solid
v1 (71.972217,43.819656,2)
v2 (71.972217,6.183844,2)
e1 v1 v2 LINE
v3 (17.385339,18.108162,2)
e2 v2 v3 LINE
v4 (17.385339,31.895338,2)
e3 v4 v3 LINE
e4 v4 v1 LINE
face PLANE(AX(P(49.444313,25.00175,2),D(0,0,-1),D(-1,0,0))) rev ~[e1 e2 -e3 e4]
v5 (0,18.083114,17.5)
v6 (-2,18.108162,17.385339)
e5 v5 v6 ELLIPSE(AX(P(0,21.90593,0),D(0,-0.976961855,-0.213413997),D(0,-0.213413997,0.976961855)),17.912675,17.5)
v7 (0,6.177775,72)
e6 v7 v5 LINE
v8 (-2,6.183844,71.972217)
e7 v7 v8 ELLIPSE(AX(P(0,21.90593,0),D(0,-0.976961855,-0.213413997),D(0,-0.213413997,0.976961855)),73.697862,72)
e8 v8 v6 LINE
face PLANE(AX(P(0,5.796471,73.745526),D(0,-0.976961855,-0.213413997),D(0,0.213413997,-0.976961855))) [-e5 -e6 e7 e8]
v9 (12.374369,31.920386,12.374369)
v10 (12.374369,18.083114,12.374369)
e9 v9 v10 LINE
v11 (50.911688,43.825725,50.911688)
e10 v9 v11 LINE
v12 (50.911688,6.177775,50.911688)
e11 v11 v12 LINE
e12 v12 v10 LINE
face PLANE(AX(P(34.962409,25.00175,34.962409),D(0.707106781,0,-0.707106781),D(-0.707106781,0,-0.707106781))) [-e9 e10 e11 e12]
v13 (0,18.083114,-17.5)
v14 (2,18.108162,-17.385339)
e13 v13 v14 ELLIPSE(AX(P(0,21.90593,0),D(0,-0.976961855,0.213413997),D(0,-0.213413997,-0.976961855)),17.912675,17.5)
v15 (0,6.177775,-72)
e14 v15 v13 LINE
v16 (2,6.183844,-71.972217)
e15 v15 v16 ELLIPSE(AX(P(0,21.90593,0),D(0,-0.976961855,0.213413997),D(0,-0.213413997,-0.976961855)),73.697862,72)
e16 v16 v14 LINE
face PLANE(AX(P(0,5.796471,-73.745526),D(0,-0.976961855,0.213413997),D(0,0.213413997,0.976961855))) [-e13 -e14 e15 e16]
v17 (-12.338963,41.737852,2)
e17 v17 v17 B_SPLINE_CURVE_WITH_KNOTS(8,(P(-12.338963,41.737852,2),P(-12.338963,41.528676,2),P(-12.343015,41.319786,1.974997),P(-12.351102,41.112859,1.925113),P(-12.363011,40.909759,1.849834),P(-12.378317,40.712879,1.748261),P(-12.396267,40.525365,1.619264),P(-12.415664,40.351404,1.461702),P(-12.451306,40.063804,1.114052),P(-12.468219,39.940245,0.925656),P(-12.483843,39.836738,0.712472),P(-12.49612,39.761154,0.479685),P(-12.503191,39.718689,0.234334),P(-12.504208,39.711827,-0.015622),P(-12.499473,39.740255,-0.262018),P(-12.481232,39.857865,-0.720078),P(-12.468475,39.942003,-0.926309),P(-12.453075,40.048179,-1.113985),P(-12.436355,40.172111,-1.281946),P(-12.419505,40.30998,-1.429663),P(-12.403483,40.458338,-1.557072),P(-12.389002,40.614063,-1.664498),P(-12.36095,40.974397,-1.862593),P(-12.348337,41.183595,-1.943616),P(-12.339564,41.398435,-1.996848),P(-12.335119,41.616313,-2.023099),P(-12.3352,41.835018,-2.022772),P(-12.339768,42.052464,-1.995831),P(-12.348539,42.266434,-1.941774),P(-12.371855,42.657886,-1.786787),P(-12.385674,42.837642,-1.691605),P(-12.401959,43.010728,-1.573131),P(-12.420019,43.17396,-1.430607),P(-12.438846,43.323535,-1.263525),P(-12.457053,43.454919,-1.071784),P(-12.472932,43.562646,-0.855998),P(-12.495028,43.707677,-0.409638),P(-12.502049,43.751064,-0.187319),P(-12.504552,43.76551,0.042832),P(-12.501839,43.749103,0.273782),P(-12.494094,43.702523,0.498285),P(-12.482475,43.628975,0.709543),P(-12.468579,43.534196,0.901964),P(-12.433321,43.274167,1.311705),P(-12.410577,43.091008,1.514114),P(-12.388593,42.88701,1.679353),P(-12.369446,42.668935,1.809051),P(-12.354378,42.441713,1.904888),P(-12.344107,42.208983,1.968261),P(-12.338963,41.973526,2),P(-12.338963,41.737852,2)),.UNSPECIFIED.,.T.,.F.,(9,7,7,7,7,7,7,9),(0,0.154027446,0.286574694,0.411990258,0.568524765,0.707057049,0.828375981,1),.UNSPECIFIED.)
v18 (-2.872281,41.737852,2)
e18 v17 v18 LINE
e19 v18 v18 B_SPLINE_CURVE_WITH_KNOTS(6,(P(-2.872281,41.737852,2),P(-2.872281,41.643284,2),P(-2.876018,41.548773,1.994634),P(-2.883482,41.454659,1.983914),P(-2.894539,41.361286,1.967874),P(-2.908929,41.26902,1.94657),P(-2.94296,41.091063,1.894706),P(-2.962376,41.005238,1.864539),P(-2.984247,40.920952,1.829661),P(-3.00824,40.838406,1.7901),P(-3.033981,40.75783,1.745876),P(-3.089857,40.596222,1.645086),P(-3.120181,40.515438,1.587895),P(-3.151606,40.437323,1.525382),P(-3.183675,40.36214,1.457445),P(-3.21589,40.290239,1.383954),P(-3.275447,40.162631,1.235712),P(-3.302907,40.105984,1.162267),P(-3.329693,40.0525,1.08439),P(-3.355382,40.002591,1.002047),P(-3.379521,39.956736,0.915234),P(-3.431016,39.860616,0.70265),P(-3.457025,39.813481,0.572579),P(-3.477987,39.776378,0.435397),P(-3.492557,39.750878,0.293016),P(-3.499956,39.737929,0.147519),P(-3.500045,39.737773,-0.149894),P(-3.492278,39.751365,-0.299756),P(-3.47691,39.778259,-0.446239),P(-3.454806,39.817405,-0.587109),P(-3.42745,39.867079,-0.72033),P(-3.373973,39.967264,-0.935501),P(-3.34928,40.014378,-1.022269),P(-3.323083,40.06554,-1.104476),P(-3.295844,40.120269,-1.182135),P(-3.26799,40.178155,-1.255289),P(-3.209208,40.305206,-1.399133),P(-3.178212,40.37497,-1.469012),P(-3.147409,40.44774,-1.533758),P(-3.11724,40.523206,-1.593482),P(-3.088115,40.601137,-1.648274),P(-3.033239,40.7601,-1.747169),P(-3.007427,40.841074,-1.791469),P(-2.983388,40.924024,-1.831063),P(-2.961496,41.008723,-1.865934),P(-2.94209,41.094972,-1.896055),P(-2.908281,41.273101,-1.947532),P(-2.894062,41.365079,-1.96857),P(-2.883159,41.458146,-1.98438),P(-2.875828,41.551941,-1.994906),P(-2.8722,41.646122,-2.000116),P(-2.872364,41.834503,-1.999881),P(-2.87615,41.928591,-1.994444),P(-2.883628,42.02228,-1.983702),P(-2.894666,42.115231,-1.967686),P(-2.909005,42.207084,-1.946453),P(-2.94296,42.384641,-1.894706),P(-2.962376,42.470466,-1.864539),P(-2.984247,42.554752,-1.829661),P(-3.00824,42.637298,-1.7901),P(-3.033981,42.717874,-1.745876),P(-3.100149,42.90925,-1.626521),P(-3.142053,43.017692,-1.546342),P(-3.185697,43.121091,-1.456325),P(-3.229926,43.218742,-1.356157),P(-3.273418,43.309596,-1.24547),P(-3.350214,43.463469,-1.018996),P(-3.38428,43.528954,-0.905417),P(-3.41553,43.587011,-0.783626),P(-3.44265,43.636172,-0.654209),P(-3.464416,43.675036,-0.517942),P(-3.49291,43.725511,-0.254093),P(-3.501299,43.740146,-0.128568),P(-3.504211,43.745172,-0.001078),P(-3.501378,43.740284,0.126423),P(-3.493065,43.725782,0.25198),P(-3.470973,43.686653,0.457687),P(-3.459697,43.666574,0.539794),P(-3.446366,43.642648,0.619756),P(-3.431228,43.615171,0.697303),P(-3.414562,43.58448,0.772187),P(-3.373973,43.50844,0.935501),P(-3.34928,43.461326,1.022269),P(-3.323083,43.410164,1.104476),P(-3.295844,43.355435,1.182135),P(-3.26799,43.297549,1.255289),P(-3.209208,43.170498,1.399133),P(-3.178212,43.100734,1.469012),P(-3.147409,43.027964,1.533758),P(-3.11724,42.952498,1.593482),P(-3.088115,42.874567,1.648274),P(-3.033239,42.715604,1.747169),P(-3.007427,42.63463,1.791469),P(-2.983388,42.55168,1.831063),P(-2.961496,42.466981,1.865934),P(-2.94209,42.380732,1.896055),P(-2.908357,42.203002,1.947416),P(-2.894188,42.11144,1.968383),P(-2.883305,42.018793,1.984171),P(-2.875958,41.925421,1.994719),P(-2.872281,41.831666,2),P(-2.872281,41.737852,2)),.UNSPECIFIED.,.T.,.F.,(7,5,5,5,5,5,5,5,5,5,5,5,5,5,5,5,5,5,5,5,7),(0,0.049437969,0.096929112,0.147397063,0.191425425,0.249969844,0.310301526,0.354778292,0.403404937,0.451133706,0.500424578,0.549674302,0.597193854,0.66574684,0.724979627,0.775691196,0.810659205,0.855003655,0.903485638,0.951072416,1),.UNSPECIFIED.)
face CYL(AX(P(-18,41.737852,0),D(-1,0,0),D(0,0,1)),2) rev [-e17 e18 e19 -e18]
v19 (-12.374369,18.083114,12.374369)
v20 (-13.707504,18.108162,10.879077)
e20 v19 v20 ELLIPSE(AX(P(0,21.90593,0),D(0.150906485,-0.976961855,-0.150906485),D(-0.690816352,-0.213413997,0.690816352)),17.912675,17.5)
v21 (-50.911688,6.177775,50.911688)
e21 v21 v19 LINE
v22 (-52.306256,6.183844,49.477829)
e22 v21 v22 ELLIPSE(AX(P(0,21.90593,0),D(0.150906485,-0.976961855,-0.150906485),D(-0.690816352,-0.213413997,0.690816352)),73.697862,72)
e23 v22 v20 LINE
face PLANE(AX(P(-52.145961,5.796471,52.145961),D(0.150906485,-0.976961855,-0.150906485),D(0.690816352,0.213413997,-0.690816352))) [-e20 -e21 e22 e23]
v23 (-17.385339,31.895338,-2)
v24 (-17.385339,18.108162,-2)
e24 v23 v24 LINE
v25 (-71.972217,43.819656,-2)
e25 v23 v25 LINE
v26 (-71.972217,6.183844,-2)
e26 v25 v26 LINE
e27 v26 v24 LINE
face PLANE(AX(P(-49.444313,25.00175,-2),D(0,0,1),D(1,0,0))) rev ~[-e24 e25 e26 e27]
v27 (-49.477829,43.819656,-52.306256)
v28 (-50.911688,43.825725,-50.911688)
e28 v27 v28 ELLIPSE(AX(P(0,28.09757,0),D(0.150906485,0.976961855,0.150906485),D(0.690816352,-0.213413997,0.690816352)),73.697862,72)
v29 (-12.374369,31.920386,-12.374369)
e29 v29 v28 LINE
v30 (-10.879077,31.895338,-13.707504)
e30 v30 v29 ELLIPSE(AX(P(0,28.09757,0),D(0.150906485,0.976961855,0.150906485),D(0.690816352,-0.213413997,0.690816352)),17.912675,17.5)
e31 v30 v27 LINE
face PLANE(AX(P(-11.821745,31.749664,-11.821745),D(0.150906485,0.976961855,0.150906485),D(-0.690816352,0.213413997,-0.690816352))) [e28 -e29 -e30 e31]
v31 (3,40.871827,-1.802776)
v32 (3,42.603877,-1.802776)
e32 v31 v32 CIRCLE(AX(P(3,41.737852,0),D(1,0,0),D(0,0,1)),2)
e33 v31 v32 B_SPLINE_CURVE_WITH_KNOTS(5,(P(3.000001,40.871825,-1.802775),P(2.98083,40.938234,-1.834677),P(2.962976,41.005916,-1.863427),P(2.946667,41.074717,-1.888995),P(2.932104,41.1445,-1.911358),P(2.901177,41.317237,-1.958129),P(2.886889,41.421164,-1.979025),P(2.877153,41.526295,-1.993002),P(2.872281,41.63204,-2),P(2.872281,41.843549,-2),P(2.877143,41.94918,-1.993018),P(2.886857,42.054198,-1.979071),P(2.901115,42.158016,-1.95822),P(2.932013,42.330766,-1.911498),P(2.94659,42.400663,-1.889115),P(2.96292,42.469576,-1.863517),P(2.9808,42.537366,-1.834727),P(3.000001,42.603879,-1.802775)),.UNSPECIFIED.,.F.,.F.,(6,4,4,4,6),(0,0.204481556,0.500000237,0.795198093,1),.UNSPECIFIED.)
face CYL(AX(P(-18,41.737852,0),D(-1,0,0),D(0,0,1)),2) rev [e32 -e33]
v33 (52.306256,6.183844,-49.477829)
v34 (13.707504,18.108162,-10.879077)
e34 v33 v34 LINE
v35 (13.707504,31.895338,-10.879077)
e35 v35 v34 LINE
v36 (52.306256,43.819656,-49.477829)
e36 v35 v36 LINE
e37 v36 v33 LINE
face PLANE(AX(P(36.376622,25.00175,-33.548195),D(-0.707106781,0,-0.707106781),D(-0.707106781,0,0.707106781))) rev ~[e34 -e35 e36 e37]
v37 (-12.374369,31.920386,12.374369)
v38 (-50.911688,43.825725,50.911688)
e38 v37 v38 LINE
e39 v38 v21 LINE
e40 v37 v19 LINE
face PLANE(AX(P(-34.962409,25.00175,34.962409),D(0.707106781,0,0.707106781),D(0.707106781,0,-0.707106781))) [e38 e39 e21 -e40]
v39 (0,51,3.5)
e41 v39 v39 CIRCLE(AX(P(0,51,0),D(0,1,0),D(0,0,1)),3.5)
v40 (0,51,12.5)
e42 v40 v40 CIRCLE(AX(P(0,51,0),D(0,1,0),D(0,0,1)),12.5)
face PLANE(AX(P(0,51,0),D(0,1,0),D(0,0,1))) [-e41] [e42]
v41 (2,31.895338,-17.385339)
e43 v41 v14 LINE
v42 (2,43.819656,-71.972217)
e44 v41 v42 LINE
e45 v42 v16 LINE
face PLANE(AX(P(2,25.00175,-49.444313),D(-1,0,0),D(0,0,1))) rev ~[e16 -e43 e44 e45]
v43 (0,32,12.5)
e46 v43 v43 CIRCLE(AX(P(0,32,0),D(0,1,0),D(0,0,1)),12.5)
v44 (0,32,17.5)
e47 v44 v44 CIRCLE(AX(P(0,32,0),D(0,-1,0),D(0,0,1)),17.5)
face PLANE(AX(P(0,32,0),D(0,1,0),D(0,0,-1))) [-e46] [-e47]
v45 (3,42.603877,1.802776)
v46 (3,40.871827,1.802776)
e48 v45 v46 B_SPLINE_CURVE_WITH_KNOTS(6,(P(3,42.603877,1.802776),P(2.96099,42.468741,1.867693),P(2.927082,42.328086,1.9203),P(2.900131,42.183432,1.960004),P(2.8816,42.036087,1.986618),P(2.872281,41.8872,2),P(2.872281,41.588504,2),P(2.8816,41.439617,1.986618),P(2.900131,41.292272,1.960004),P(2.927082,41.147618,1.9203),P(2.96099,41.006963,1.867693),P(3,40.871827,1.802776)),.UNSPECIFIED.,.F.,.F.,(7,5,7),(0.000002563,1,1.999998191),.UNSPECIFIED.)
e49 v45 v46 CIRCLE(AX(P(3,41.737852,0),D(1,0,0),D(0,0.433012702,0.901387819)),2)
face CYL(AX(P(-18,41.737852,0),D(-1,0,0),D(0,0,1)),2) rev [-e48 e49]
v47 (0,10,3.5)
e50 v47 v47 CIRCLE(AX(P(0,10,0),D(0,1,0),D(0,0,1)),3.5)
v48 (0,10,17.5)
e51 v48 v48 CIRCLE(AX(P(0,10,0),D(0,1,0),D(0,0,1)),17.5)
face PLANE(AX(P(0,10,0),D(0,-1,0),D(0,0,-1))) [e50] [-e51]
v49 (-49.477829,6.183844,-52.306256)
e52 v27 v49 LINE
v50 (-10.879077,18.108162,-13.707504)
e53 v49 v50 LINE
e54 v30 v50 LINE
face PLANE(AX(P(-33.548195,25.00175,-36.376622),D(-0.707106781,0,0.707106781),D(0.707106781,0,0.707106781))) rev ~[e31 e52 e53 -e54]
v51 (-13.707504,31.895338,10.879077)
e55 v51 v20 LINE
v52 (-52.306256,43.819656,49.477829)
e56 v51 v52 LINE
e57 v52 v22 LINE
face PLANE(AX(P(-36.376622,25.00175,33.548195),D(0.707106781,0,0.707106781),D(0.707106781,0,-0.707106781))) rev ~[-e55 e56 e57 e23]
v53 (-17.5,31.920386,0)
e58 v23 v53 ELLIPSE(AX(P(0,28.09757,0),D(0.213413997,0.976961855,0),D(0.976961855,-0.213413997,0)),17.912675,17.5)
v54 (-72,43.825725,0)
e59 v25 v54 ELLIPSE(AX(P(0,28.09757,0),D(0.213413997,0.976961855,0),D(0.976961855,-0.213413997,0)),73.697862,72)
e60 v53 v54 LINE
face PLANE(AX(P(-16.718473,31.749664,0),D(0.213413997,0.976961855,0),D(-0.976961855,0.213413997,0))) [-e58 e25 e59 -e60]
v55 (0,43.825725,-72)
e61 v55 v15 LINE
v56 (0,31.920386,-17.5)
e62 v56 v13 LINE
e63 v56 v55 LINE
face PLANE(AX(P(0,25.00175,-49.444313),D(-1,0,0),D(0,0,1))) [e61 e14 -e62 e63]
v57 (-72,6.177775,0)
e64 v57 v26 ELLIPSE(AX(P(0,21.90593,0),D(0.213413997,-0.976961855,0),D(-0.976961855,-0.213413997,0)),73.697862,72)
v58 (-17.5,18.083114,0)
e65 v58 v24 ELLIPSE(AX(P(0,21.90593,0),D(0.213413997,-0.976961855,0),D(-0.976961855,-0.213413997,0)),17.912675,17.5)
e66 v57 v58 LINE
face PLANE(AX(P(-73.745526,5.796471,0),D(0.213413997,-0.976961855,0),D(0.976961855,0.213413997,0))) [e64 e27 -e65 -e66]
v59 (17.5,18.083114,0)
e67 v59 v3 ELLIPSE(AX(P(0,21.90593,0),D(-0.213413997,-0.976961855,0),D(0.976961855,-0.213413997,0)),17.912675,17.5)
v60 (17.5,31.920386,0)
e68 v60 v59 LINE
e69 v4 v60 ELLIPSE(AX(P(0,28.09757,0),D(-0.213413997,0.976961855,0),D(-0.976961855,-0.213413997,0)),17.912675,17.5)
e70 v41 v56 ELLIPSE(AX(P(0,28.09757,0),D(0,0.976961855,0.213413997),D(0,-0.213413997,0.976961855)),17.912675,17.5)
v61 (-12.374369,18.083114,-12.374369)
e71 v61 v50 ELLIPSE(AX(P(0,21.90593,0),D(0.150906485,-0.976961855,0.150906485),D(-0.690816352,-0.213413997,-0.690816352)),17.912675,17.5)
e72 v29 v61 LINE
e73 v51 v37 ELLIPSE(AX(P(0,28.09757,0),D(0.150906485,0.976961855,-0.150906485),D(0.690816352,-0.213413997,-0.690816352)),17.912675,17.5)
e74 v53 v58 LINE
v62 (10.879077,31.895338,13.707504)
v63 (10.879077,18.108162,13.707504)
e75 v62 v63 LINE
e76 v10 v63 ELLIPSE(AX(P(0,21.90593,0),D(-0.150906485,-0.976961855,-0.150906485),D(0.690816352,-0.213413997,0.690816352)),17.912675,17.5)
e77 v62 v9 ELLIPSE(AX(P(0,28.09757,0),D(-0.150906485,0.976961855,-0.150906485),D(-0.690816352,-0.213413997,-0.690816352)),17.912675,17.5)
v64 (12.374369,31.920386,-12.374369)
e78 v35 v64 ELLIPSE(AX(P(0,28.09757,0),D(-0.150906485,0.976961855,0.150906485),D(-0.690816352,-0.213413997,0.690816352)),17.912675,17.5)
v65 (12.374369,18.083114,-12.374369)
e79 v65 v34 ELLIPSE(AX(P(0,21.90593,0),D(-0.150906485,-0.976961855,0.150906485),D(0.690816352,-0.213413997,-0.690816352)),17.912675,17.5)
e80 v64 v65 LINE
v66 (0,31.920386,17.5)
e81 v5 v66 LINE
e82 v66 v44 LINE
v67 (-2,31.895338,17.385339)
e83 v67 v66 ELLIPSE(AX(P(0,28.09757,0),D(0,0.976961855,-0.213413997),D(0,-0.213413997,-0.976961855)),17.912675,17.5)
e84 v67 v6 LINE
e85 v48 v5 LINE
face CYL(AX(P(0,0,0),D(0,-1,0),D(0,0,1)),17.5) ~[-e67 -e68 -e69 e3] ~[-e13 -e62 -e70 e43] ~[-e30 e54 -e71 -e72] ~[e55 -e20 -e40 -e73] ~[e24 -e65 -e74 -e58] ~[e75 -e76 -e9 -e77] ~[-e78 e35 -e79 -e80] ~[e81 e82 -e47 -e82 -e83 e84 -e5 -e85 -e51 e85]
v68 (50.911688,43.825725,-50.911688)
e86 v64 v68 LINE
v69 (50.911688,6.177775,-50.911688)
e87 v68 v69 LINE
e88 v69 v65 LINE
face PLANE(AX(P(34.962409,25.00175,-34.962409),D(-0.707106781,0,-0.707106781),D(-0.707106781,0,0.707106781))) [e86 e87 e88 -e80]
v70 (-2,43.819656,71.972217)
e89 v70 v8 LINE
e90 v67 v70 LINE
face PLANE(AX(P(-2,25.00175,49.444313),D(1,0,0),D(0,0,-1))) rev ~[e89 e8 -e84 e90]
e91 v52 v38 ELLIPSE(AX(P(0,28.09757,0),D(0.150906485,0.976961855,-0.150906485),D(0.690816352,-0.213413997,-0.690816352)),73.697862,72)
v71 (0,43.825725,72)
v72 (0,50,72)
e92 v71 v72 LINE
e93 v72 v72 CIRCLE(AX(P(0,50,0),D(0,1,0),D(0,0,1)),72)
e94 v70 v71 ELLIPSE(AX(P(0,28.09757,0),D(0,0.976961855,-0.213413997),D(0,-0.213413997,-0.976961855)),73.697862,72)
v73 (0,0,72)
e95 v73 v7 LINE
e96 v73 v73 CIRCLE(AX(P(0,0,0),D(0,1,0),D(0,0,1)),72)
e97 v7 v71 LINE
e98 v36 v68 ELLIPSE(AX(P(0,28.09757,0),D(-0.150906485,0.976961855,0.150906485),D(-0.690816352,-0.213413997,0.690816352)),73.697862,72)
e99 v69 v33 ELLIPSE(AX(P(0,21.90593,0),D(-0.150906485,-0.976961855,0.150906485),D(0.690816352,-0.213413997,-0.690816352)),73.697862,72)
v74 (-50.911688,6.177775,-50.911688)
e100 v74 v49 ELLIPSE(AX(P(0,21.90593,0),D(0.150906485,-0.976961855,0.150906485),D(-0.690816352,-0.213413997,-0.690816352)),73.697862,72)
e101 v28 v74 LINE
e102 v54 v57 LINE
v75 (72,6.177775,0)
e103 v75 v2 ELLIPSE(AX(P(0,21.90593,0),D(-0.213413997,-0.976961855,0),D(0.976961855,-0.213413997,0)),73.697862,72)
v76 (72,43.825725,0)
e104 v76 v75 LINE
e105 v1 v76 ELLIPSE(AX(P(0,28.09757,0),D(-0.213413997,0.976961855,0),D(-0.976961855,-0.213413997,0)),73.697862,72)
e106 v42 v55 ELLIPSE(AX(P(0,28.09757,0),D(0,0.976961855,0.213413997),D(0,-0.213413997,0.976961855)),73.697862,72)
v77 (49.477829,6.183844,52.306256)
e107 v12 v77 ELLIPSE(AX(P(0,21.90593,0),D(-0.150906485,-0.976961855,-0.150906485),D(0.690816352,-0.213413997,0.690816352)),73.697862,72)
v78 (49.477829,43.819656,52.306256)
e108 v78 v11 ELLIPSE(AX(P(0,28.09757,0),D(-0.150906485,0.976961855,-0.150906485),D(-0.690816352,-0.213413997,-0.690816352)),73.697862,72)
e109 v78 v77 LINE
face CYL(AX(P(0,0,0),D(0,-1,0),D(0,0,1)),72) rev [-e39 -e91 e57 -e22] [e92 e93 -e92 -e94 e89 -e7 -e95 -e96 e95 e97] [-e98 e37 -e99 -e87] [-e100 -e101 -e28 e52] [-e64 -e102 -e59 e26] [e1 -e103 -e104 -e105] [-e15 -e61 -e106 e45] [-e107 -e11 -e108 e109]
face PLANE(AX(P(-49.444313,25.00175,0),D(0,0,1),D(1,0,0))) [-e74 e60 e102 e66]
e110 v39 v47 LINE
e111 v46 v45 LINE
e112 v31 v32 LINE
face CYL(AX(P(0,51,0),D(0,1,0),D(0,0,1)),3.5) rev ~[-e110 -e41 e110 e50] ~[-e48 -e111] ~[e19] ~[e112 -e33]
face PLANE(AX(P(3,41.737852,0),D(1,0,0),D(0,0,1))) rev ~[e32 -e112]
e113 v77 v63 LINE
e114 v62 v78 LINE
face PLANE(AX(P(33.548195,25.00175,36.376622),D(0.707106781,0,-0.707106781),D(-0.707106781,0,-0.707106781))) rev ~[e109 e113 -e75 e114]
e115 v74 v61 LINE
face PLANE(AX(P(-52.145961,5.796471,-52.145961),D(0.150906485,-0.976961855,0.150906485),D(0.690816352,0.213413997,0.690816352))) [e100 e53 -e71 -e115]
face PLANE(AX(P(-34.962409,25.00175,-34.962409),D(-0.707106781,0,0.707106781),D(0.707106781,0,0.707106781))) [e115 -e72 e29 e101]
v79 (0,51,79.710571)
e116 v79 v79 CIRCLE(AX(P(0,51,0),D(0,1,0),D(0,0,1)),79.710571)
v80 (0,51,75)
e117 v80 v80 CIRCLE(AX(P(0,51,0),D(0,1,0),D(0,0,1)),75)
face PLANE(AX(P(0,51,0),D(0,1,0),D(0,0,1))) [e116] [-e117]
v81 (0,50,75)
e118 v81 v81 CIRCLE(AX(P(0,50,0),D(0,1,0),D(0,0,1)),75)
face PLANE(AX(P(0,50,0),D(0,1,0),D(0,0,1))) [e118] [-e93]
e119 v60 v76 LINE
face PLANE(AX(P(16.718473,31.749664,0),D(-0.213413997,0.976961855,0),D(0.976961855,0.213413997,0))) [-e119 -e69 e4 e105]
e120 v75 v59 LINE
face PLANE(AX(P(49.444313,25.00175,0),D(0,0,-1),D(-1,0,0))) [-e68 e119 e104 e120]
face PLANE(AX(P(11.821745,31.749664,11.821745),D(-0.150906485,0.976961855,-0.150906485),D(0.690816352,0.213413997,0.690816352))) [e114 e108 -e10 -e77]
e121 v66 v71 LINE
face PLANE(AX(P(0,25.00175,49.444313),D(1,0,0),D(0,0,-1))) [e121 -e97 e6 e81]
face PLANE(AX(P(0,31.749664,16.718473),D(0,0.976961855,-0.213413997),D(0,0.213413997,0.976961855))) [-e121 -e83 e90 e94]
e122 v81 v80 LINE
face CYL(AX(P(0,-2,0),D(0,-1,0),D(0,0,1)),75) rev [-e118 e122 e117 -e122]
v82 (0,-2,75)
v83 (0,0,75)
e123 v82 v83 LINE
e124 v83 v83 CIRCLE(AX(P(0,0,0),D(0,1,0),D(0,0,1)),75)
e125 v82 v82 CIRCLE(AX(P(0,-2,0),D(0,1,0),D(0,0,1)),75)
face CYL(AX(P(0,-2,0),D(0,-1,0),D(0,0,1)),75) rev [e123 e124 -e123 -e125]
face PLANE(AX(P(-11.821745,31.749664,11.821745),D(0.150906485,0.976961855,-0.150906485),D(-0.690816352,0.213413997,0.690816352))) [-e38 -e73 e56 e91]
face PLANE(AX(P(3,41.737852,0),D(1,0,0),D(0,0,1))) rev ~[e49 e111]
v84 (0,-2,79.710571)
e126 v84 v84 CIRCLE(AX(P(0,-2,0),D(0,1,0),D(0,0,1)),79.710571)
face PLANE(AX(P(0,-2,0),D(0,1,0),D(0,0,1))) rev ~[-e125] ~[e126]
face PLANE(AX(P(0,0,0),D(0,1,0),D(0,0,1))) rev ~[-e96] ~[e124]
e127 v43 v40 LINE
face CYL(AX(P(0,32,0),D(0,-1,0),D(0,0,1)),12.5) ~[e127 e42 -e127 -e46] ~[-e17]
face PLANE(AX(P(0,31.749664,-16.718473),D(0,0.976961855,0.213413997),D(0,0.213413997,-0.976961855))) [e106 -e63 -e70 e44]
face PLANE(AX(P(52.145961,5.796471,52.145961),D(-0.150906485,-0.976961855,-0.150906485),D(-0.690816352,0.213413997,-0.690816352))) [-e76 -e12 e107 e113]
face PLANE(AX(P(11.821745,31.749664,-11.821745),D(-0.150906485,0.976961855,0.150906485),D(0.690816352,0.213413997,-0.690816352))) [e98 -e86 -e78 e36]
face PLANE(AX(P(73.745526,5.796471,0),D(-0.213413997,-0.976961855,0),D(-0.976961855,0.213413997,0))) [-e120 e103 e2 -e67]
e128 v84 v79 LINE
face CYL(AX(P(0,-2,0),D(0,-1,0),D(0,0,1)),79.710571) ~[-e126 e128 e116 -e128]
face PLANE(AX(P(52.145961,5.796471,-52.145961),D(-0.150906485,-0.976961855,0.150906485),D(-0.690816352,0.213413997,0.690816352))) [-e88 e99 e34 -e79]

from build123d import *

# Parameters (mm, degrees)
SKETCH1_R                = 17.5
BOSS_EXTRUDE1_DEPTH      = 50
SKETCH1_R_2              = 75
SKETCH1_R_3              = 72
BOSS_EXTRUDE1_2_DEPTH    = 50
SKETCH2_R                = 17.5
CUT_EXTRUDE1_DEPTH       = 10
BOSS_EXTRUDE2_DEPTH      = 2
CIRPATTERN1_COUNT        = 8
CUT_EXTRUDE2_START       = -8
SKETCH4_R                = 17.5
CUT_EXTRUDE2_DEPTH       = 8
SKETCH6_R                = 12.5
BOSS_EXTRUDE3_DEPTH      = 19
SKETCH7_R                = 3.5
CUT_EXTRUDE3_DEPTH       = 42
CUT_EXTRUDE4_DEPTH       = 3
CUT_EXTRUDE4_DEPTH_BACK  = 18
SKETCH8_R                = 2
BOSS_EXTRUDE4_DEPTH      = 51
BOSS_EXTRUDE4_DEPTH_BACK = 2
SKETCH9_R                = 79.710570968
SKETCH9_R_2              = 75


with BuildPart() as part:
    # Sketch1 → Boss-Extrude1 (new body)
    with BuildSketch(Plane(origin=(0, 0, 0), x_dir=(1, 0, 0), z_dir=(0, 1, 0))):
        with Locations(Location((0, 0, 0), (0, 0, 270))):
            Circle(SKETCH1_R)
    extrude(amount=BOSS_EXTRUDE1_DEPTH)

    # Sketch2 → Cut-Extrude1 (cut)
    with BuildSketch(Plane.XZ):
        with Locations(Location((0, 0, 0), (0, 0, 270))):
            Circle(SKETCH2_R)
    cut_extrude1 = extrude(amount=-CUT_EXTRUDE1_DEPTH, mode=Mode.SUBTRACT)

    # Mirror1: Cut-Extrude1 across plane
    add(cut_extrude1.mirror(Plane.ZX.offset(25)), mode=Mode.SUBTRACT)

    # Sketch4 → Cut-Extrude2 (cut)
    with BuildSketch(Plane(origin=(0, 40, 0), x_dir=(1, 0, 0), z_dir=(0, 1, 0)).offset(CUT_EXTRUDE2_START)):
        with Locations(Location((0, 0, 0), (0, 0, 90))):
            Circle(SKETCH4_R)
    extrude(amount=CUT_EXTRUDE2_DEPTH, mode=Mode.SUBTRACT)


with BuildPart() as body_2:
    # Sketch1 → Boss-Extrude1 2 (new body)
    with BuildSketch(Plane(origin=(0, 0, 0), x_dir=(1, 0, 0), z_dir=(0, 1, 0))):
        with Locations(Location((0, 0, 0), (0, 0, 270))):
            Circle(SKETCH1_R_2)
        with Locations(Location((0, 0, 0), (0, 0, 270))):
            Circle(SKETCH1_R_3, mode=Mode.SUBTRACT)
    extrude(amount=BOSS_EXTRUDE1_2_DEPTH)

    # Sketch3 → Boss-Extrude2 (add)
    with BuildSketch(Plane(origin=(0, 0, 0), x_dir=(0, 0, -1), z_dir=(1, 0, 0))):
        Polygon((16.718472528, 18.253836478), (16.718472528, 31.749663618), (73.745525638, 44.207029589), (73.745525638, 5.796470507), align=None)
    boss_extrude2 = extrude(amount=BOSS_EXTRUDE2_DEPTH)

    # CirPattern1: Boss-Extrude2 ×8 about axis
    cirpattern1_axis = Axis((0, 0, 0), (0, 1, 0))
    for i in range(1, CIRPATTERN1_COUNT):
        add(boss_extrude2.rotate(cirpattern1_axis, i * 360 / CIRPATTERN1_COUNT))


    add(part.part)  # Boss-Extrude3 merges part
    # Sketch6 → Boss-Extrude3 (add)
    with BuildSketch(Plane(origin=(0, 32, 0), x_dir=(1, 0, 0), z_dir=(0, 1, 0))):
        with Locations(Location((0, 0, 0), (0, 0, 270))):
            Circle(SKETCH6_R)
    extrude(amount=BOSS_EXTRUDE3_DEPTH)

    # Sketch7 → Cut-Extrude3 (cut)
    with BuildSketch(Plane(origin=(0, 51, 0), x_dir=(1, 0, 0), z_dir=(0, 1, 0))):
        with Locations(Location((0, 0, 0), (0, 0, 270))):
            Circle(SKETCH7_R)
    extrude(amount=-CUT_EXTRUDE3_DEPTH, mode=Mode.SUBTRACT)

    # Sketch8 → Cut-Extrude4 (cut, two sides: drawn at the far end of the back side and taken through both)
    with BuildSketch(Plane(origin=(0, 0, 0), x_dir=(0, 0, -1), z_dir=(1, 0, 0)).offset(-CUT_EXTRUDE4_DEPTH_BACK)):
        with Locations(Location((0, 41.737851991, 0), (0, 0, 180))):
            Circle(SKETCH8_R)
    extrude(amount=CUT_EXTRUDE4_DEPTH + CUT_EXTRUDE4_DEPTH_BACK, mode=Mode.SUBTRACT)

    # Sketch9 → Boss-Extrude4 (add, two sides: drawn at the far end of the back side and taken through both)
    with BuildSketch(Plane(origin=(0, 0, 0), x_dir=(1, 0, 0), z_dir=(0, 1, 0)).offset(-BOSS_EXTRUDE4_DEPTH_BACK)):
        with Locations(Location((0, 0, 0), (0, 0, 270))):
            Circle(SKETCH9_R)
        with Locations(Location((0, 0, 0), (0, 0, 270))):
            Circle(SKETCH9_R_2, mode=Mode.SUBTRACT)
    extrude(amount=BOSS_EXTRUDE4_DEPTH + BOSS_EXTRUDE4_DEPTH_BACK)


solid = body_2.part
